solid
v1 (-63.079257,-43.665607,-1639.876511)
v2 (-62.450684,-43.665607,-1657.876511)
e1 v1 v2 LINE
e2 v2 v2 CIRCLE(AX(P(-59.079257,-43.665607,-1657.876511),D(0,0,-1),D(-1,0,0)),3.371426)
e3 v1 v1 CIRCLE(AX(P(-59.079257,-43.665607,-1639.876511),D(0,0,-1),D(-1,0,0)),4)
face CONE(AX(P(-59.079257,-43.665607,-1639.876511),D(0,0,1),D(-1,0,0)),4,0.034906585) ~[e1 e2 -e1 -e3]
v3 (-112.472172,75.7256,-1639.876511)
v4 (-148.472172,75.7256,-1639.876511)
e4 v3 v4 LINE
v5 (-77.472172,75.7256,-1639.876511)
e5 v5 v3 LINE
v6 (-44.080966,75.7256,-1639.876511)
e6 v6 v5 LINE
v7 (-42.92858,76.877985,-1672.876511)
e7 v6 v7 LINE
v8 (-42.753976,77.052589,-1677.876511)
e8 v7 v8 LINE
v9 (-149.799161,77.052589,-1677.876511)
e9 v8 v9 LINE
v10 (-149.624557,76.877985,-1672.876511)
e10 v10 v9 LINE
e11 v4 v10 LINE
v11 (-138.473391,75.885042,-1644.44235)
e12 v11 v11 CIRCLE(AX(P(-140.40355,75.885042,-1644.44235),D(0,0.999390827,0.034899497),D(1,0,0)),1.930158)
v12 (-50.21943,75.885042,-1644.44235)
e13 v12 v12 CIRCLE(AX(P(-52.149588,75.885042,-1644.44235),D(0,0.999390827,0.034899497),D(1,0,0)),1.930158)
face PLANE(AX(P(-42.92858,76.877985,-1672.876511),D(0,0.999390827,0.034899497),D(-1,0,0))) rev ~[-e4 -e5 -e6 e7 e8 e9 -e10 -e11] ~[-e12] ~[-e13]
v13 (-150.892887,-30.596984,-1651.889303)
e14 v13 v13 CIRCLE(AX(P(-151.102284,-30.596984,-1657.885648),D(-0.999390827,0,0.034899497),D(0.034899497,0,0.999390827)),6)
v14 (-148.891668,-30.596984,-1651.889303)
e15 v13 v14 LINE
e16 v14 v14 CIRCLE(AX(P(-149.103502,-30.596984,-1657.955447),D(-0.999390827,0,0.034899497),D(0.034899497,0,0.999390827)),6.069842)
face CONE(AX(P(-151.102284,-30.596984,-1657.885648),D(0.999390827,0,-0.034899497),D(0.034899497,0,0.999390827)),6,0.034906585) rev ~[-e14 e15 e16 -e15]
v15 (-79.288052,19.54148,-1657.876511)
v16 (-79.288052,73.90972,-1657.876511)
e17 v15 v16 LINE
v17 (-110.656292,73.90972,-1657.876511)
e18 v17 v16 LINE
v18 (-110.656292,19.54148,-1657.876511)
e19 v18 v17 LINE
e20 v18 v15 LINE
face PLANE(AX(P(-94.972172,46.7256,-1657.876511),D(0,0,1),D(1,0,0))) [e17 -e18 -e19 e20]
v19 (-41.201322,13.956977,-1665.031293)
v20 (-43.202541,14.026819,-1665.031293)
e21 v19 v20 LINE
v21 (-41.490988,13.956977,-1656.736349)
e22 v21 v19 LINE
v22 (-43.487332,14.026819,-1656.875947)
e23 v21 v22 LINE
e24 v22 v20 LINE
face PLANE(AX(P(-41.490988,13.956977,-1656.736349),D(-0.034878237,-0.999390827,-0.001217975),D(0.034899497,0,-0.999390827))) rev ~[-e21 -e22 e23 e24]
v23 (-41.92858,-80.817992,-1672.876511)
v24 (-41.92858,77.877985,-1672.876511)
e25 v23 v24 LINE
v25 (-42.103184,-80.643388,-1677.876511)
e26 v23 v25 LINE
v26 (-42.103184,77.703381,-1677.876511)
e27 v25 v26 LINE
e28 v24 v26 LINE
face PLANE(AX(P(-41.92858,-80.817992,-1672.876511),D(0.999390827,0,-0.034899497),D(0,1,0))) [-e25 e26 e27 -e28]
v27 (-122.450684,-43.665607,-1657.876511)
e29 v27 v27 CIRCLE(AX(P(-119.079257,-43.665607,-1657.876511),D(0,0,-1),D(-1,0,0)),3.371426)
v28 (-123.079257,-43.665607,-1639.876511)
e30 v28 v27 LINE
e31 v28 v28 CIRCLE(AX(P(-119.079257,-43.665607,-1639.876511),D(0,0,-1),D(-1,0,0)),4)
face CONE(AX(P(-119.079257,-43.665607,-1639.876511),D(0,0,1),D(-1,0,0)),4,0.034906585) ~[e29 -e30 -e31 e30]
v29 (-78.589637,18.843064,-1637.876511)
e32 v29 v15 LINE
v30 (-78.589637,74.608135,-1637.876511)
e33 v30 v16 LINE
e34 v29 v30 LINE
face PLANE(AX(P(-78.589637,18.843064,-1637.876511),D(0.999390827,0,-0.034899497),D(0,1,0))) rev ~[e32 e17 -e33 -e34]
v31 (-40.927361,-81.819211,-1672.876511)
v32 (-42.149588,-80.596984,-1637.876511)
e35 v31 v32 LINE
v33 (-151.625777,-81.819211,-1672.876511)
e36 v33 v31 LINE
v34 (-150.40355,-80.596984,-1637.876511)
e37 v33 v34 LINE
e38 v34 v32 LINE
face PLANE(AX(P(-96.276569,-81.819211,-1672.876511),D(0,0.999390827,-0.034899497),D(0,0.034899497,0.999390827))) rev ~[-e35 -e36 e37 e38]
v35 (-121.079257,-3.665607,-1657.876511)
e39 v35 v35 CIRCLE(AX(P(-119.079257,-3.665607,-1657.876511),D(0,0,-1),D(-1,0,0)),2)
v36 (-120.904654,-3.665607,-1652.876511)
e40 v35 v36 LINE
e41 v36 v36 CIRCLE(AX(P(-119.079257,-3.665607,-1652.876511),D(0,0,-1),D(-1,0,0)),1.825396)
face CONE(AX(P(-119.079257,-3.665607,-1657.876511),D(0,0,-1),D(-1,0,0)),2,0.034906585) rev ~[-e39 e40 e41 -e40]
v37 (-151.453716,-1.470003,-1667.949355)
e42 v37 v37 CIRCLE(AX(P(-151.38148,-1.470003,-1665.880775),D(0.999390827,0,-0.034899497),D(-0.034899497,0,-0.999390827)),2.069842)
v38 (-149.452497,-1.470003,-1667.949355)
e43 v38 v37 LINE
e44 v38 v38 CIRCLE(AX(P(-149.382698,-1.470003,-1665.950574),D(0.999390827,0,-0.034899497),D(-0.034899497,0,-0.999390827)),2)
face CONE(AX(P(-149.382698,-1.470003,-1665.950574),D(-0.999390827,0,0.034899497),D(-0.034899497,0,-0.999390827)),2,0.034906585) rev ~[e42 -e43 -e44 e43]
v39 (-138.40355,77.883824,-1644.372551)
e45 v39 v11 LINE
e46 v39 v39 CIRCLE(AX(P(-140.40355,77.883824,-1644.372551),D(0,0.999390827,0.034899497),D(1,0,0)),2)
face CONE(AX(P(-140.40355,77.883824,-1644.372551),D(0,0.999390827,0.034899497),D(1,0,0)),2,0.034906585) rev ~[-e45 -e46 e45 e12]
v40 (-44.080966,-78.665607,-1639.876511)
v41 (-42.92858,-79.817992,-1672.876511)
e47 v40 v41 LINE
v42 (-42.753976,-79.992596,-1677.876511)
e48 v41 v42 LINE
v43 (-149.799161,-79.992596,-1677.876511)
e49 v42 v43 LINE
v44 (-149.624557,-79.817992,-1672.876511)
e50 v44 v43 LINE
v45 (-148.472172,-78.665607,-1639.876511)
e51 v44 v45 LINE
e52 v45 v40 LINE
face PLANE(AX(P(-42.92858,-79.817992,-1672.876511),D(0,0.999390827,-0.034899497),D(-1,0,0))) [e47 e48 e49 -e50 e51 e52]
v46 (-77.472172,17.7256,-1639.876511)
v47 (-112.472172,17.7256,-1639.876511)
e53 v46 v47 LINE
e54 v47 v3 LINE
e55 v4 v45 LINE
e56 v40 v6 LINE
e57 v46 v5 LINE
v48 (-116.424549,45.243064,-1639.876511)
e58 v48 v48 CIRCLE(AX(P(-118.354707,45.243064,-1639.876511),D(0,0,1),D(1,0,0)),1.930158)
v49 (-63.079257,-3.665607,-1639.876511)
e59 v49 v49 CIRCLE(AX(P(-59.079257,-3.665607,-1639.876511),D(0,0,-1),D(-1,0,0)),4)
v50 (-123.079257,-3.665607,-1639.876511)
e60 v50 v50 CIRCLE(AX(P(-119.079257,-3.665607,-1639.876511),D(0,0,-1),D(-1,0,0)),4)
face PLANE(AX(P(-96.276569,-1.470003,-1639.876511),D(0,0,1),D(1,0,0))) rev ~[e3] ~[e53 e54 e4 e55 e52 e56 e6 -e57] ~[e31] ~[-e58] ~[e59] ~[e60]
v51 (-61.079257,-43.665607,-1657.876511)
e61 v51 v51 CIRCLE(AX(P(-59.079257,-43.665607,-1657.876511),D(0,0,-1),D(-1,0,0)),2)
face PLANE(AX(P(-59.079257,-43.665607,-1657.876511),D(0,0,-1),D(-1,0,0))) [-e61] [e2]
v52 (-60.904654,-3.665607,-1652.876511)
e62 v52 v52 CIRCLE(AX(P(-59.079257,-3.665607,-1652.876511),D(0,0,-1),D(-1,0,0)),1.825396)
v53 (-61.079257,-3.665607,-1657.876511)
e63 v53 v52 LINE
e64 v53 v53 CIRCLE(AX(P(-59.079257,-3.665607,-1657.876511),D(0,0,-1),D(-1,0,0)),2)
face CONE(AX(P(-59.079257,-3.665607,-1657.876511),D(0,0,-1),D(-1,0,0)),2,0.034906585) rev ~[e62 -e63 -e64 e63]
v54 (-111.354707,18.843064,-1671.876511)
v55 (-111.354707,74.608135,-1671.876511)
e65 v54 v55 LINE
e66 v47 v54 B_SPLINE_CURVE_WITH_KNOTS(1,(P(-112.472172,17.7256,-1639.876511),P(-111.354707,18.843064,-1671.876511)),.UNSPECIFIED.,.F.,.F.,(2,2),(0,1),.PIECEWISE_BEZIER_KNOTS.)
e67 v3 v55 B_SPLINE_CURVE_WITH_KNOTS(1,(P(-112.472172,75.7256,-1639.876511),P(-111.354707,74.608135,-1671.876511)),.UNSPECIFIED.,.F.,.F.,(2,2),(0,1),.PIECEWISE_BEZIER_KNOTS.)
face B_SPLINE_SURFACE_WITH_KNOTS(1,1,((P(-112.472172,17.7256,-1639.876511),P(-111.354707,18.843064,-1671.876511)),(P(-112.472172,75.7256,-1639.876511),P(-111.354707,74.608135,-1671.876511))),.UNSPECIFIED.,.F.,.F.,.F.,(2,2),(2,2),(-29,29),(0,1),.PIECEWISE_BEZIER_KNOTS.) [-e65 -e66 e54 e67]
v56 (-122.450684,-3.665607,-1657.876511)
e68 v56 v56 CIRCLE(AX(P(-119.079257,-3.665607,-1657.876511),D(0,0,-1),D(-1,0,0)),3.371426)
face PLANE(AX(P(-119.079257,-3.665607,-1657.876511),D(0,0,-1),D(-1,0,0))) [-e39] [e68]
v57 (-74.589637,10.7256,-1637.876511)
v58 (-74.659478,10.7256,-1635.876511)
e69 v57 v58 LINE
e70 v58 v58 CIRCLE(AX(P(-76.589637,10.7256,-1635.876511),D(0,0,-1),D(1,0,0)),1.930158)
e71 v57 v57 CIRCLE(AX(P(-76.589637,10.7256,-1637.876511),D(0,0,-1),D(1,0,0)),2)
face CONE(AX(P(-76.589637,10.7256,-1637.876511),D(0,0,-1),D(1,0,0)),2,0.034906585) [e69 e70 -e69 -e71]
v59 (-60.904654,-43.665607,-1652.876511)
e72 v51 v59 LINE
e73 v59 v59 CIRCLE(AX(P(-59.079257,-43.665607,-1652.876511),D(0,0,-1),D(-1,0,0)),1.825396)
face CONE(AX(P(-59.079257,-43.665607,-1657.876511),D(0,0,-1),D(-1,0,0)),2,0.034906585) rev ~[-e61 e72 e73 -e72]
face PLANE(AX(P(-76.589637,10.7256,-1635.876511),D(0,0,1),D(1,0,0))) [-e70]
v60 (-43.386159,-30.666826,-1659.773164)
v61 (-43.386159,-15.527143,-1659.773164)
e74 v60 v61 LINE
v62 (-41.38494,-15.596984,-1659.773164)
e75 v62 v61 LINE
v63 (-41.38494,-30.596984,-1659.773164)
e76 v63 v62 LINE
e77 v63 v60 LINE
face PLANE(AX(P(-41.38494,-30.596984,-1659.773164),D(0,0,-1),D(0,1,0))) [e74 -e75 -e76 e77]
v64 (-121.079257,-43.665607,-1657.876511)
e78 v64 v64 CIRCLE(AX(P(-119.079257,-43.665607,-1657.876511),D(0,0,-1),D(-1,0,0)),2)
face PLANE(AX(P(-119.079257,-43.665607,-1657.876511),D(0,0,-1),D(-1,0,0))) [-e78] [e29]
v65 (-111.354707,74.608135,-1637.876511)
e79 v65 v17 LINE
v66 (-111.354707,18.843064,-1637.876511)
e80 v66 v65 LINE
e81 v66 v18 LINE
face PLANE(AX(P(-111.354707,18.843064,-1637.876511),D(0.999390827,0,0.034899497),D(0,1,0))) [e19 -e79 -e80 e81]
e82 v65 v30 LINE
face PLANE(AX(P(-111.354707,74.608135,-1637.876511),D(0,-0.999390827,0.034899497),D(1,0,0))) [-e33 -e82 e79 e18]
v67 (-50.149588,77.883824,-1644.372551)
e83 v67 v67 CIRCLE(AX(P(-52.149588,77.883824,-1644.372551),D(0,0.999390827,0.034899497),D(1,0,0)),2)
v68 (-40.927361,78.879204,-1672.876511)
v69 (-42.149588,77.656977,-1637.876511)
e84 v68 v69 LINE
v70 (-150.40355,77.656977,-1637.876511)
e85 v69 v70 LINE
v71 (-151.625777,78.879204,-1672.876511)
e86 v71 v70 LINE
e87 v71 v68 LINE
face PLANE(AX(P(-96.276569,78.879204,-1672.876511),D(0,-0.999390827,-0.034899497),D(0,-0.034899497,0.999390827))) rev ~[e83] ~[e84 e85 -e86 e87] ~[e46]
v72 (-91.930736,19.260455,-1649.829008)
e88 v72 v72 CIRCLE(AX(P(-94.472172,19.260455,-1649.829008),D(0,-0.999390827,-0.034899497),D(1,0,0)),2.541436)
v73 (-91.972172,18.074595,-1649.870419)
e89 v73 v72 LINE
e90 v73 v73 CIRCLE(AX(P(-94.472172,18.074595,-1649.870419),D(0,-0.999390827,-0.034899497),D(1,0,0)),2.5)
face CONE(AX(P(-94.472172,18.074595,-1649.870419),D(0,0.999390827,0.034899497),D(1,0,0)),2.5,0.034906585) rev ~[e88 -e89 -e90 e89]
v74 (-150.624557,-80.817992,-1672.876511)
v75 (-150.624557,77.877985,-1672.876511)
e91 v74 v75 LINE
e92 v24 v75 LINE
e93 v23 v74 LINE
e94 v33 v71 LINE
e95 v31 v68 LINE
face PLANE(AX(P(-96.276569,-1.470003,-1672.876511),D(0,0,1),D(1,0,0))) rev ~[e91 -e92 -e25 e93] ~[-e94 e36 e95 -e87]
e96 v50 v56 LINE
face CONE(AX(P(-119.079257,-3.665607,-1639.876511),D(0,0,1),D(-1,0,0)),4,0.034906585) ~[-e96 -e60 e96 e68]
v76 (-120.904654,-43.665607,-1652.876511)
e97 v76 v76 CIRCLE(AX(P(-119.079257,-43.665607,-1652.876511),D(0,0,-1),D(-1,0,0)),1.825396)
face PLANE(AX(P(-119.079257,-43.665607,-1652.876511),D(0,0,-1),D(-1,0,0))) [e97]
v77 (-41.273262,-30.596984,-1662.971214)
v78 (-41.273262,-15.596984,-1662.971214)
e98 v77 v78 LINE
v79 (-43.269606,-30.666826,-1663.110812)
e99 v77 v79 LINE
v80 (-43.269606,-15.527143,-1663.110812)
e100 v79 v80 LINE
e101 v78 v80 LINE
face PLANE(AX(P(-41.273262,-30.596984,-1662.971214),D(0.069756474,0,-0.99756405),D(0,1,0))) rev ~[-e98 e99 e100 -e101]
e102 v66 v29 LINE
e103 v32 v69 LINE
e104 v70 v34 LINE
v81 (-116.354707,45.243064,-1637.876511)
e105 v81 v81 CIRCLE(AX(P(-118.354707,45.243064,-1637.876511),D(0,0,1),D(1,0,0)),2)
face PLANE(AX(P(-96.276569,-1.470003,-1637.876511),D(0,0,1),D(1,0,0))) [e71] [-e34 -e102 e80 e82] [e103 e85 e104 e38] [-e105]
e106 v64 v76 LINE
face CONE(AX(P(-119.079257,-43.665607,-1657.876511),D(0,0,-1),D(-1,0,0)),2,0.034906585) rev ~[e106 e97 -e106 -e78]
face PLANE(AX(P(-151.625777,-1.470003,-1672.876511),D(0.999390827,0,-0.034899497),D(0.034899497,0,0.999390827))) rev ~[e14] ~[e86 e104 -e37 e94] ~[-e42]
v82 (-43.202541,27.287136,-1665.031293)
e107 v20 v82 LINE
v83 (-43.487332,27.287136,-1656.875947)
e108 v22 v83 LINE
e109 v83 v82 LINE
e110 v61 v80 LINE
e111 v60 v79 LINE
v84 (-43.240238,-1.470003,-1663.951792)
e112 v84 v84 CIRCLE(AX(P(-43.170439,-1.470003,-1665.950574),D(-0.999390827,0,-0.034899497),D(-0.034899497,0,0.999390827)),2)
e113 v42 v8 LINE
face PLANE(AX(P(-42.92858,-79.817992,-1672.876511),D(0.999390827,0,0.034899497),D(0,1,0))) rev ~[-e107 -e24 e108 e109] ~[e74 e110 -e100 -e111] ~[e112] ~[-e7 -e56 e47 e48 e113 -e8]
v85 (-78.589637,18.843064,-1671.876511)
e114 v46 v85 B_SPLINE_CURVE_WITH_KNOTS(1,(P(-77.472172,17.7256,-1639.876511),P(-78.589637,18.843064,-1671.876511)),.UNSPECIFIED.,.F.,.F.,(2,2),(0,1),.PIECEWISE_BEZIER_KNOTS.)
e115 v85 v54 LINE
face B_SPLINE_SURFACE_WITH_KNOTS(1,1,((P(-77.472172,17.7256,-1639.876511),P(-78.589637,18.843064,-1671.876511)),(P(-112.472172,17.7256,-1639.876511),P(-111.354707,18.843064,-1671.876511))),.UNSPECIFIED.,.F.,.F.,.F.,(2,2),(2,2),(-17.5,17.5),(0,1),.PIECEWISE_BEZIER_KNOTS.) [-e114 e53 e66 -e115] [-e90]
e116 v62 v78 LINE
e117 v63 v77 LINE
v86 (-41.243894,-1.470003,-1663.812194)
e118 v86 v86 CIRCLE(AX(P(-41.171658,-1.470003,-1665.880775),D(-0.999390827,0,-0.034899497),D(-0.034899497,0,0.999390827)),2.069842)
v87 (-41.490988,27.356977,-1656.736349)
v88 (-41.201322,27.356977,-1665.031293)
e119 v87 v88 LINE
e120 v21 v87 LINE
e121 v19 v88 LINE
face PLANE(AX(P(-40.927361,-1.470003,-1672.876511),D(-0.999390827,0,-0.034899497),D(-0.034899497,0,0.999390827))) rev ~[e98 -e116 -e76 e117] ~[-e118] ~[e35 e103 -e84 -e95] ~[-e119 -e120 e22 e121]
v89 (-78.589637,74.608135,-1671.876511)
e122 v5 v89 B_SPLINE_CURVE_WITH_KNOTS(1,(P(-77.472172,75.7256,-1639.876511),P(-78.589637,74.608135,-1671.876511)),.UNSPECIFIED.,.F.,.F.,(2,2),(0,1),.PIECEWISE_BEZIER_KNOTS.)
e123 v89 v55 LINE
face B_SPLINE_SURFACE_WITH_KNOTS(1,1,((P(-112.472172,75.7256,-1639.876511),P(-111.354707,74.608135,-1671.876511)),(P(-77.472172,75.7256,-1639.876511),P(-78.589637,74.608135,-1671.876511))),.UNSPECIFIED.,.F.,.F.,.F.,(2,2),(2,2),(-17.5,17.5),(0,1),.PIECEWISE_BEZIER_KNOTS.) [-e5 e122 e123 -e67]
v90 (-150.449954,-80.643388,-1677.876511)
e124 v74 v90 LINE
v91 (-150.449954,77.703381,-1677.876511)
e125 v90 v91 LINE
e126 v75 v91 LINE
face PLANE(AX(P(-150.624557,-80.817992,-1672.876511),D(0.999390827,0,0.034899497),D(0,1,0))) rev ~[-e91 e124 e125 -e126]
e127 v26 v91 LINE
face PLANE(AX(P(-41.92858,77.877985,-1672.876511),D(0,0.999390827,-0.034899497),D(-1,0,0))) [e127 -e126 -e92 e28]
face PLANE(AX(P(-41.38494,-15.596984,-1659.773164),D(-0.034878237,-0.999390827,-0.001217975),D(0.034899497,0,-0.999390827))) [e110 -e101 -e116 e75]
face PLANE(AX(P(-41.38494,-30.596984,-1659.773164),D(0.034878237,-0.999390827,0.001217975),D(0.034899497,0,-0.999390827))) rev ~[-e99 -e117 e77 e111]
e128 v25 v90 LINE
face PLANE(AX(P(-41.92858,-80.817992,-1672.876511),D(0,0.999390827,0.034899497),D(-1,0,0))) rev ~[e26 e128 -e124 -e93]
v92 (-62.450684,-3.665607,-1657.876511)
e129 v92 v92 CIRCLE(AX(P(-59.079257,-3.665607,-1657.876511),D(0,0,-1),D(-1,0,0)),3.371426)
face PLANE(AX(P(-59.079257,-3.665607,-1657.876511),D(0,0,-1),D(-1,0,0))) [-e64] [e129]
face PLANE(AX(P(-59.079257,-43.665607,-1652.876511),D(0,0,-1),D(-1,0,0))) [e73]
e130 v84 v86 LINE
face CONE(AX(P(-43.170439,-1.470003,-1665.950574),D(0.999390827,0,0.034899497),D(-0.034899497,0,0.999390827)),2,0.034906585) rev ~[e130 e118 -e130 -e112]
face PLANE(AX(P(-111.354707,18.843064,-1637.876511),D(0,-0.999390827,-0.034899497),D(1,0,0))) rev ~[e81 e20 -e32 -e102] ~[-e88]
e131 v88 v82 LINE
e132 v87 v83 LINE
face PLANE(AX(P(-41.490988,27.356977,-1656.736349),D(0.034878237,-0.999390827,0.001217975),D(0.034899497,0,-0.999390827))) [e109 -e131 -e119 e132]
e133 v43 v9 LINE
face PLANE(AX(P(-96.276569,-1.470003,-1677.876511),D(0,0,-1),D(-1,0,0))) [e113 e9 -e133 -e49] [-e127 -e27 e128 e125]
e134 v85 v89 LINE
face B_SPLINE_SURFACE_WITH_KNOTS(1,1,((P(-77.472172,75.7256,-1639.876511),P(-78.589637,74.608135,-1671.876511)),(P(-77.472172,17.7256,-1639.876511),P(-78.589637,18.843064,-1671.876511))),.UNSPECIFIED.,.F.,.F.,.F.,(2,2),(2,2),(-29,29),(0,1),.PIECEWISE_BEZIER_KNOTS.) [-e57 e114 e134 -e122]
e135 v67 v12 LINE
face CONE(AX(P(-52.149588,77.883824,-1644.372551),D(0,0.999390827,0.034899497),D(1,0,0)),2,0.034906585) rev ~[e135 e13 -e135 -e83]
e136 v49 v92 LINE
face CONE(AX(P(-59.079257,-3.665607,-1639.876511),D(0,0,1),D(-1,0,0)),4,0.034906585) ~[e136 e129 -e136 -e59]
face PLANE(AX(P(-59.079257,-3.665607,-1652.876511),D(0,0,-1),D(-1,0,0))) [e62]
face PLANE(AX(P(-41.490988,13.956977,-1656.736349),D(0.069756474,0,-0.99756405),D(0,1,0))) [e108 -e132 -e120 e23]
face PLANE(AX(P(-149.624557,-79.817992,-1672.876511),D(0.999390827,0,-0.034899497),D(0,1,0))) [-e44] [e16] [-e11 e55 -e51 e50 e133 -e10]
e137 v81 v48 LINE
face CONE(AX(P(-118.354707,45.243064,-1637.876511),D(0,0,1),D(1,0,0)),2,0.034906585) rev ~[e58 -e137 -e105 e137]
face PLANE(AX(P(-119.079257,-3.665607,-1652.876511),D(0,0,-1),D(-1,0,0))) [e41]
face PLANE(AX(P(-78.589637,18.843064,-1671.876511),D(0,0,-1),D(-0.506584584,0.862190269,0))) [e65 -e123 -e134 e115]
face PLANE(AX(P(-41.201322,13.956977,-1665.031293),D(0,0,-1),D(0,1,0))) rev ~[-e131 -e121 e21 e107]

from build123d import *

# Parameters (mm, degrees)
SKETCH1_W                     = 110.69841539
SKETCH1_H                     = 160.69841539
BOSS_EXTRUDE1_DEPTH           = 35
BOSS_EXTRUDE1_TAPER           = 2
SHELL1_T                      = -2
SKETCH9_W                     = 35
SKETCH9_H                     = 58
BOSS_EXTRUDE5_DEPTH           = 32
BOSS_EXTRUDE5_TAPER           = 2
SKETCH6_W                     = 3.2
SKETCH6_H                     = 15
CUT_EXTRUDE3_DEPTH            = 2
CUT_EXTRUDE3_DRAFT            = 2
SKETCH11_W                    = 32.765070753
SKETCH11_H                    = 55.765070753
CUT_EXTRUDE4_DEPTH            = 20
CUT_EXTRUDE4_DRAFT            = -2
SKETCH13_R                    = 2.5
CUT_EXTRUDE5_DEPTH            = 1.186583
CUT_EXTRUDE5_DRAFT            = 2
SKETCH14_R                    = 4
BOSS_EXTRUDE6_DEPTH           = 18
BOSS_EXTRUDE6_DRAFT           = 2
BOSS_EXTRUDE6_PROFILE_2_DEPTH = 18
BOSS_EXTRUDE6_PROFILE_2_DRAFT = 2
BOSS_EXTRUDE6_PROFILE_3_DEPTH = 18
BOSS_EXTRUDE6_PROFILE_3_DRAFT = 2
BOSS_EXTRUDE6_PROFILE_4_DEPTH = 18
BOSS_EXTRUDE6_PROFILE_4_DRAFT = 2
SKETCH15_R                    = 2
CUT_EXTRUDE6_DEPTH            = 5
CUT_EXTRUDE6_DRAFT            = -2
CUT_EXTRUDE6_PROFILE_2_DEPTH  = 5
CUT_EXTRUDE6_PROFILE_2_DRAFT  = -2
CUT_EXTRUDE6_PROFILE_3_DEPTH  = 5
CUT_EXTRUDE6_PROFILE_3_DRAFT  = -2
CUT_EXTRUDE6_PROFILE_4_DEPTH  = 5
CUT_EXTRUDE6_PROFILE_4_DRAFT  = -2
SKETCH17_W                    = 108.695977213
SKETCH17_H                    = 158.695977213
SKETCH17_W_2                  = 106.695977213
SKETCH17_H_2                  = 156.695977213
BOSS_EXTRUDE8_DEPTH           = 5
BOSS_EXTRUDE8_DRAFT           = 2
SKETCH18_R                    = 2
BOSS_EXTRUDE9_DEPTH           = 2
BOSS_EXTRUDE9_TAPER           = 2
SKETCH19_R                    = 2
CUT_EXTRUDE7_DEPTH            = 2
CUT_EXTRUDE7_DRAFT            = -2
SKETCH26_R                    = 2
CUT_EXTRUDE11_DEPTH           = 2
CUT_EXTRUDE11_DRAFT           = 2
SKETCH27_R                    = 2
CUT_EXTRUDE12_DEPTH           = 2
CUT_EXTRUDE12_DRAFT           = 2
SKETCH29_R                    = 6
CUT_EXTRUDE15_DEPTH           = 10
CUT_EXTRUDE15_DRAFT           = 2
SKETCH32_W                    = 8.3
SKETCH32_H                    = 13.4
CUT_EXTRUDE16_DEPTH           = 2
CUT_EXTRUDE16_DRAFT           = -2
SKETCH34_R                    = 2
CUT_EXTRUDE17_DEPTH           = 2
CUT_EXTRUDE17_DRAFT           = -2
CUT_EXTRUDE17_PROFILE_2_DEPTH = 2
CUT_EXTRUDE17_PROFILE_2_DRAFT = -2


with BuildPart() as part:
    # Sketch1 → Boss-Extrude1 (new body)
    with BuildSketch(Plane(origin=(-178.93563268, -87.827617858, -1672.876510568), x_dir=(1, 0, 0), z_dir=(0, 0, 1))):
        with Locations((82.659063847, 86.357614413)):
            Rectangle(SKETCH1_W, SKETCH1_H)
    extrude(amount=BOSS_EXTRUDE1_DEPTH, taper=BOSS_EXTRUDE1_TAPER)

    # Shell1
    shell1_openings = [part.faces().sort_by_distance(p)[0] for p in [
        (-96.276568833, -1.470003445, -1672.876510568),
    ]]
    offset(amount=SHELL1_T, openings=shell1_openings, kind=Kind.INTERSECTION)

    # Sketch9 → Boss-Extrude5 (add)
    with BuildSketch(Plane(origin=(0, 0, -1639.876510568), x_dir=(-1, 0, 0), z_dir=(0, 0, -1))):
        with Locations((94.972172046, 46.725599768)):
            Rectangle(SKETCH9_W, SKETCH9_H)
    extrude(amount=BOSS_EXTRUDE5_DEPTH, taper=BOSS_EXTRUDE5_TAPER)


with BuildPart() as cut_extrude3_tool:
    # Sketch6 → Cut-Extrude3 (with draft: the straight prism first)
    with BuildSketch(Plane(origin=(-99.224495834, 0, -3.464995747), x_dir=(0.03489949670250102, 0, -0.9993908270190958), z_dir=(0.9993908270190958, 0, 0.03489949670250102))):
        with Locations((1658.917761042, -23.096984207)):
            Rectangle(SKETCH6_W, SKETCH6_H)
    extrude(amount=-CUT_EXTRUDE3_DEPTH)
    # Cut-Extrude3: the draft: its side faces are tilted about the plane it starts from
    cut_extrude3_sides = [cut_extrude3_tool.faces().sort_by_distance(p)[0] for p in [
        (-42.328491729, -30.596984207, -1661.407088408),
        (-42.272652535, -23.096984207, -1663.006113731),
        (-42.328491729, -15.596984207, -1661.407088408),
        (-42.384330924, -23.096984207, -1659.808063085),
    ]]
    draft(cut_extrude3_sides, Plane(origin=(-99.224495834, 0, -3.464995747), x_dir=(0.03489949670250102, 0, -0.9993908270190958), z_dir=(0.9993908270190958, 0, 0.03489949670250102)), CUT_EXTRUDE3_DRAFT)


with BuildPart() as part_1:
    add(part.part)

    # Cut-Extrude3: cut by cut_extrude3_tool
    add(cut_extrude3_tool.part, mode=Mode.SUBTRACT)


with BuildPart() as cut_extrude4_tool:
    # Sketch11 → Cut-Extrude4 (with draft: the straight prism first)
    with BuildSketch(Plane.XY.offset(-1637.876510568)):
        with Locations((-94.972172046, 46.725599769)):
            Rectangle(SKETCH11_W, SKETCH11_H)
    extrude(amount=-CUT_EXTRUDE4_DEPTH)
    # Cut-Extrude4: the draft: its side faces are tilted about the plane it starts from
    cut_extrude4_sides = [cut_extrude4_tool.faces().sort_by_distance(p)[0] for p in [
        (-111.354707422, 46.725599768, -1647.876510568),
        (-94.972172046, 18.843064392, -1647.876510568),
        (-78.589636669, 46.725599768, -1647.876510568),
        (-94.972172046, 74.608135145, -1647.876510568),
    ]]
    draft(cut_extrude4_sides, Plane.XY.offset(-1637.876510568), CUT_EXTRUDE4_DRAFT)


with BuildPart() as part_2:
    add(part_1.part)

    # Cut-Extrude4: cut by cut_extrude4_tool
    add(cut_extrude4_tool.part, mode=Mode.SUBTRACT)


with BuildPart() as cut_extrude5_tool:
    # Sketch13 → Cut-Extrude5 (with draft: the straight prism first)
    with BuildSketch(Plane(origin=(0, -39.491990943, -1.379090712), x_dir=(1, 0, 0), z_dir=(0, -0.9993908270190958, -0.03489949670250101))):
        with Locations((-94.472172046, -1649.496156617)):
            Circle(SKETCH13_R)
    extrude(amount=-CUT_EXTRUDE5_DEPTH)
    # Cut-Extrude5: the draft: its side faces are tilted about the plane it starts from
    cut_extrude5_sides = [cut_extrude5_tool.faces().sort_by_distance(p)[0] for p in [
        (-96.972172046, 18.667524818, -1649.849713264),
    ]]
    draft(cut_extrude5_sides, Plane(origin=(0, -39.491990943, -1.379090712), x_dir=(1, 0, 0), z_dir=(0, -0.9993908270190958, -0.03489949670250101)), CUT_EXTRUDE5_DRAFT)


with BuildPart() as part_3:
    add(part_2.part)

    # Cut-Extrude5: cut by cut_extrude5_tool
    add(cut_extrude5_tool.part, mode=Mode.SUBTRACT)


with BuildPart() as boss_extrude6_tool:
    # Sketch14 → Boss-Extrude6 (with draft: the straight prism first)
    with BuildSketch(Plane(origin=(0, 0, -1639.876510568), x_dir=(-1, 0, 0), z_dir=(0, 0, -1))):
        with Locations((59.079257377, -3.665606658)):
            Circle(SKETCH14_R)
    extrude(amount=BOSS_EXTRUDE6_DEPTH)
    # Boss-Extrude6: the draft: its side faces are tilted about the plane it starts from
    boss_extrude6_sides = [boss_extrude6_tool.faces().sort_by_distance(p)[0] for p in [
        (-55.079257377, -3.665606658, -1648.876510568),
    ]]
    draft(boss_extrude6_sides, Plane(origin=(0, 0, -1639.876510568), x_dir=(-1, 0, 0), z_dir=(0, 0, -1)), BOSS_EXTRUDE6_DRAFT)


with BuildPart() as part_4:
    add(part_3.part)

    # Boss-Extrude6: add boss_extrude6_tool
    add(boss_extrude6_tool.part)


with BuildPart() as boss_extrude6_profile_2_tool:
    # Sketch14 → Boss-Extrude6 profile 2 (with draft: the straight prism first)
    with BuildSketch(Plane(origin=(0, 0, -1639.876510568), x_dir=(-1, 0, 0), z_dir=(0, 0, -1))):
        with Locations((59.079257377, -43.665606658)):
            Circle(SKETCH14_R)
    extrude(amount=BOSS_EXTRUDE6_PROFILE_2_DEPTH)
    # Boss-Extrude6 profile 2: the draft: its side faces are tilted about the plane it starts from
    boss_extrude6_profile_2_sides = [boss_extrude6_profile_2_tool.faces().sort_by_distance(p)[0] for p in [
        (-55.079257377, -43.665606658, -1648.876510568),
    ]]
    draft(boss_extrude6_profile_2_sides, Plane(origin=(0, 0, -1639.876510568), x_dir=(-1, 0, 0), z_dir=(0, 0, -1)), BOSS_EXTRUDE6_PROFILE_2_DRAFT)


with BuildPart() as part_5:
    add(part_4.part)

    # Boss-Extrude6 profile 2: add boss_extrude6_profile_2_tool
    add(boss_extrude6_profile_2_tool.part)


with BuildPart() as boss_extrude6_profile_3_tool:
    # Sketch14 → Boss-Extrude6 profile 3 (with draft: the straight prism first)
    with BuildSketch(Plane(origin=(0, 0, -1639.876510568), x_dir=(-1, 0, 0), z_dir=(0, 0, -1))):
        with Locations((119.079257377, -3.665606658)):
            Circle(SKETCH14_R)
    extrude(amount=BOSS_EXTRUDE6_PROFILE_3_DEPTH)
    # Boss-Extrude6 profile 3: the draft: its side faces are tilted about the plane it starts from
    boss_extrude6_profile_3_sides = [boss_extrude6_profile_3_tool.faces().sort_by_distance(p)[0] for p in [
        (-115.079257377, -3.665606658, -1648.876510568),
    ]]
    draft(boss_extrude6_profile_3_sides, Plane(origin=(0, 0, -1639.876510568), x_dir=(-1, 0, 0), z_dir=(0, 0, -1)), BOSS_EXTRUDE6_PROFILE_3_DRAFT)


with BuildPart() as part_6:
    add(part_5.part)

    # Boss-Extrude6 profile 3: add boss_extrude6_profile_3_tool
    add(boss_extrude6_profile_3_tool.part)


with BuildPart() as boss_extrude6_profile_4_tool:
    # Sketch14 → Boss-Extrude6 profile 4 (with draft: the straight prism first)
    with BuildSketch(Plane(origin=(0, 0, -1639.876510568), x_dir=(-1, 0, 0), z_dir=(0, 0, -1))):
        with Locations((119.079257377, -43.665606658)):
            Circle(SKETCH14_R)
    extrude(amount=BOSS_EXTRUDE6_PROFILE_4_DEPTH)
    # Boss-Extrude6 profile 4: the draft: its side faces are tilted about the plane it starts from
    boss_extrude6_profile_4_sides = [boss_extrude6_profile_4_tool.faces().sort_by_distance(p)[0] for p in [
        (-115.079257377, -43.665606658, -1648.876510568),
    ]]
    draft(boss_extrude6_profile_4_sides, Plane(origin=(0, 0, -1639.876510568), x_dir=(-1, 0, 0), z_dir=(0, 0, -1)), BOSS_EXTRUDE6_PROFILE_4_DRAFT)


with BuildPart() as part_7:
    add(part_6.part)

    # Boss-Extrude6 profile 4: add boss_extrude6_profile_4_tool
    add(boss_extrude6_profile_4_tool.part)


with BuildPart() as cut_extrude6_tool:
    # Sketch15 → Cut-Extrude6 (with draft: the straight prism first)
    with BuildSketch(Plane(origin=(0, 0, -1657.876510568), x_dir=(-1, 0, 0), z_dir=(0, 0, -1))):
        with Locations((59.079257377, -3.665606658)):
            Circle(SKETCH15_R)
    extrude(amount=-CUT_EXTRUDE6_DEPTH)
    # Cut-Extrude6: the draft: its side faces are tilted about the plane it starts from
    cut_extrude6_sides = [cut_extrude6_tool.faces().sort_by_distance(p)[0] for p in [
        (-57.079257377, -3.665606658, -1655.376510568),
    ]]
    draft(cut_extrude6_sides, Plane(origin=(0, 0, -1657.876510568), x_dir=(-1, 0, 0), z_dir=(0, 0, -1)), CUT_EXTRUDE6_DRAFT)


with BuildPart() as part_8:
    add(part_7.part)

    # Cut-Extrude6: cut by cut_extrude6_tool
    add(cut_extrude6_tool.part, mode=Mode.SUBTRACT)


with BuildPart() as cut_extrude6_profile_2_tool:
    # Sketch15 → Cut-Extrude6 profile 2 (with draft: the straight prism first)
    with BuildSketch(Plane(origin=(0, 0, -1657.876510568), x_dir=(-1, 0, 0), z_dir=(0, 0, -1))):
        with Locations((119.079257377, -3.665606658)):
            Circle(SKETCH15_R)
    extrude(amount=-CUT_EXTRUDE6_PROFILE_2_DEPTH)
    # Cut-Extrude6 profile 2: the draft: its side faces are tilted about the plane it starts from
    cut_extrude6_profile_2_sides = [cut_extrude6_profile_2_tool.faces().sort_by_distance(p)[0] for p in [
        (-117.079257377, -3.665606658, -1655.376510568),
    ]]
    draft(cut_extrude6_profile_2_sides, Plane(origin=(0, 0, -1657.876510568), x_dir=(-1, 0, 0), z_dir=(0, 0, -1)), CUT_EXTRUDE6_PROFILE_2_DRAFT)


with BuildPart() as part_9:
    add(part_8.part)

    # Cut-Extrude6 profile 2: cut by cut_extrude6_profile_2_tool
    add(cut_extrude6_profile_2_tool.part, mode=Mode.SUBTRACT)


with BuildPart() as cut_extrude6_profile_3_tool:
    # Sketch15 → Cut-Extrude6 profile 3 (with draft: the straight prism first)
    with BuildSketch(Plane(origin=(0, 0, -1657.876510568), x_dir=(-1, 0, 0), z_dir=(0, 0, -1))):
        with Locations((119.079257377, -43.665606658)):
            Circle(SKETCH15_R)
    extrude(amount=-CUT_EXTRUDE6_PROFILE_3_DEPTH)
    # Cut-Extrude6 profile 3: the draft: its side faces are tilted about the plane it starts from
    cut_extrude6_profile_3_sides = [cut_extrude6_profile_3_tool.faces().sort_by_distance(p)[0] for p in [
        (-117.079257377, -43.665606658, -1655.376510568),
    ]]
    draft(cut_extrude6_profile_3_sides, Plane(origin=(0, 0, -1657.876510568), x_dir=(-1, 0, 0), z_dir=(0, 0, -1)), CUT_EXTRUDE6_PROFILE_3_DRAFT)


with BuildPart() as part_10:
    add(part_9.part)

    # Cut-Extrude6 profile 3: cut by cut_extrude6_profile_3_tool
    add(cut_extrude6_profile_3_tool.part, mode=Mode.SUBTRACT)


with BuildPart() as cut_extrude6_profile_4_tool:
    # Sketch15 → Cut-Extrude6 profile 4 (with draft: the straight prism first)
    with BuildSketch(Plane(origin=(0, 0, -1657.876510568), x_dir=(-1, 0, 0), z_dir=(0, 0, -1))):
        with Locations((59.079257377, -43.665606658)):
            Circle(SKETCH15_R)
    extrude(amount=-CUT_EXTRUDE6_PROFILE_4_DEPTH)
    # Cut-Extrude6 profile 4: the draft: its side faces are tilted about the plane it starts from
    cut_extrude6_profile_4_sides = [cut_extrude6_profile_4_tool.faces().sort_by_distance(p)[0] for p in [
        (-57.079257377, -43.665606658, -1655.376510568),
    ]]
    draft(cut_extrude6_profile_4_sides, Plane(origin=(0, 0, -1657.876510568), x_dir=(-1, 0, 0), z_dir=(0, 0, -1)), CUT_EXTRUDE6_PROFILE_4_DRAFT)


with BuildPart() as part_11:
    add(part_10.part)

    # Cut-Extrude6 profile 4: cut by cut_extrude6_profile_4_tool
    add(cut_extrude6_profile_4_tool.part, mode=Mode.SUBTRACT)


with BuildPart() as boss_extrude8_tool:
    # Sketch17 → Boss-Extrude8 (with draft: the straight prism first)
    with BuildSketch(Plane(origin=(0, 0, -1672.876510568), x_dir=(-1, 0, 0), z_dir=(0, 0, -1))):
        with Locations((96.276568833, -1.470003445)):
            Rectangle(SKETCH17_W, SKETCH17_H)
        with Locations((96.276568833, -1.470003445)):
            Rectangle(SKETCH17_W_2, SKETCH17_H_2, mode=Mode.SUBTRACT)
    extrude(amount=BOSS_EXTRUDE8_DEPTH)
    # Boss-Extrude8: the draft: its side faces are tilted about the plane it starts from
    boss_extrude8_sides = [boss_extrude8_tool.faces().sort_by_distance(p)[0] for p in [
        (-41.928580226, -1.470003445, -1675.376510568),
        (-96.276568833, -80.817992051, -1675.376510568),
        (-150.624557439, -1.470003445, -1675.376510568),
        (-96.276568833, 77.877985162, -1675.376510568),
        (-96.276568833, -79.817992051, -1675.376510568),
        (-42.928580226, -1.470003445, -1675.376510568),
        (-96.276568833, 76.877985162, -1675.376510568),
        (-149.624557439, -1.470003445, -1675.376510568),
    ]]
    draft(boss_extrude8_sides, Plane(origin=(0, 0, -1672.876510568), x_dir=(-1, 0, 0), z_dir=(0, 0, -1)), BOSS_EXTRUDE8_DRAFT)


with BuildPart() as part_12:
    add(part_11.part)

    # Boss-Extrude8: add boss_extrude8_tool
    add(boss_extrude8_tool.part)

    # Sketch18 → Boss-Extrude9 (add)
    with BuildSketch(Plane.XY.offset(-1637.876510568)):
        with Locations((-76.589636669, 10.725599768)):
            Circle(SKETCH18_R)
    extrude(amount=BOSS_EXTRUDE9_DEPTH, taper=BOSS_EXTRUDE9_TAPER)


with BuildPart() as cut_extrude7_tool:
    # Sketch19 → Cut-Extrude7 (with draft: the straight prism first)
    with BuildSketch(Plane.XY.offset(-1637.876510568)):
        with Locations((-118.354707422, 45.243064392)):
            Circle(SKETCH19_R)
    extrude(amount=-CUT_EXTRUDE7_DEPTH)
    # Cut-Extrude7: the draft: its side faces are tilted about the plane it starts from
    cut_extrude7_sides = [cut_extrude7_tool.faces().sort_by_distance(p)[0] for p in [
        (-120.354707422, 45.243064392, -1638.876510568),
    ]]
    draft(cut_extrude7_sides, Plane.XY.offset(-1637.876510568), CUT_EXTRUDE7_DRAFT)


with BuildPart() as part_13:
    add(part_12.part)

    # Cut-Extrude7: cut by cut_extrude7_tool
    add(cut_extrude7_tool.part, mode=Mode.SUBTRACT)


with BuildPart() as cut_extrude11_tool:
    # Sketch26 → Cut-Extrude11 (with draft: the straight prism first)
    with BuildSketch(Plane(origin=(-91.095335295, 0, 3.181119206), x_dir=(-0.03489949670250101, 0, -0.9993908270190958), z_dir=(0.9993908270190958, 0, -0.03489949670250101))):
        with Locations((1670.149102685, -1.470003445)):
            Circle(SKETCH26_R)
    extrude(amount=-CUT_EXTRUDE11_DEPTH)
    # Cut-Extrude11: the draft: its side faces are tilted about the plane it starts from
    cut_extrude11_sides = [cut_extrude11_tool.faces().sort_by_distance(p)[0] for p in [
        (-150.31229023, -1.470003445, -1663.916892622),
    ]]
    draft(cut_extrude11_sides, Plane(origin=(-91.095335295, 0, 3.181119206), x_dir=(-0.03489949670250101, 0, -0.9993908270190958), z_dir=(0.9993908270190958, 0, -0.03489949670250101)), CUT_EXTRUDE11_DRAFT)


with BuildPart() as part_14:
    add(part_13.part)

    # Cut-Extrude11: cut by cut_extrude11_tool
    add(cut_extrude11_tool.part, mode=Mode.SUBTRACT)


with BuildPart() as cut_extrude12_tool:
    # Sketch27 → Cut-Extrude12 (with draft: the straight prism first)
    with BuildSketch(Plane(origin=(-101.223277488, 0, -3.53479474), x_dir=(-0.03489949670250102, 0, 0.9993908270190958), z_dir=(-0.9993908270190958, 0, -0.03489949670250102))):
        with Locations((-1663.429095092, -1.470003445)):
            Circle(SKETCH27_R)
    extrude(amount=-CUT_EXTRUDE12_DEPTH)
    # Cut-Extrude12: the draft: its side faces are tilted about the plane it starts from
    cut_extrude12_sides = [cut_extrude12_tool.faces().sort_by_distance(p)[0] for p in [
        (-42.101249448, -1.470003445, -1667.91445593),
    ]]
    draft(cut_extrude12_sides, Plane(origin=(-101.223277488, 0, -3.53479474), x_dir=(-0.03489949670250102, 0, 0.9993908270190958), z_dir=(-0.9993908270190958, 0, -0.03489949670250102)), CUT_EXTRUDE12_DRAFT)


with BuildPart() as part_15:
    add(part_14.part)

    # Cut-Extrude12: cut by cut_extrude12_tool
    add(cut_extrude12_tool.part, mode=Mode.SUBTRACT)


with BuildPart() as cut_extrude15_tool:
    # Sketch29 → Cut-Extrude15 (with draft: the straight prism first)
    with BuildSketch(Plane(origin=(-93.094116949, 0, 3.250918199), x_dir=(0.03489949670250101, 0, 0.9993908270190958), z_dir=(-0.9993908270190958, 0, 0.03489949670250101))):
        with Locations((-1662.149102685, -30.596984207)):
            Circle(SKETCH29_R)
    extrude(amount=-CUT_EXTRUDE15_DEPTH)
    # Cut-Extrude15: the draft: its side faces are tilted about the plane it starts from
    cut_extrude15_sides = [cut_extrude15_tool.faces().sort_by_distance(p)[0] for p in [
        (-146.314726922, -30.596984207, -1664.056490608),
    ]]
    draft(cut_extrude15_sides, Plane(origin=(-93.094116949, 0, 3.250918199), x_dir=(0.03489949670250101, 0, 0.9993908270190958), z_dir=(-0.9993908270190958, 0, 0.03489949670250101)), CUT_EXTRUDE15_DRAFT)


with BuildPart() as part_16:
    add(part_15.part)

    # Cut-Extrude15: cut by cut_extrude15_tool
    add(cut_extrude15_tool.part, mode=Mode.SUBTRACT)


with BuildPart() as cut_extrude16_tool:
    # Sketch32 → Cut-Extrude16 (with draft: the straight prism first)
    with BuildSketch(Plane(origin=(-99.224495834, 0, -3.464995747), x_dir=(0.03489949670250102, 0, -0.9993908270190958), z_dir=(0.9993908270190958, 0, 0.03489949670250102))):
        with Locations((1658.429095092, 20.656977318)):
            Rectangle(SKETCH32_W, SKETCH32_H)
    extrude(amount=-CUT_EXTRUDE16_DEPTH)
    # Cut-Extrude16: the draft: its side faces are tilted about the plane it starts from
    cut_extrude16_sides = [cut_extrude16_tool.faces().sort_by_distance(p)[0] for p in [
        (-42.200713014, 20.656977318, -1665.066192073),
        (-42.345545925, 27.356977318, -1660.918720141),
        (-42.490378836, 20.656977318, -1656.771248208),
        (-42.345545925, 13.956977318, -1660.918720141),
    ]]
    draft(cut_extrude16_sides, Plane(origin=(-99.224495834, 0, -3.464995747), x_dir=(0.03489949670250102, 0, -0.9993908270190958), z_dir=(0.9993908270190958, 0, 0.03489949670250102)), CUT_EXTRUDE16_DRAFT)


with BuildPart() as part_17:
    add(part_16.part)

    # Cut-Extrude16: cut by cut_extrude16_tool
    add(cut_extrude16_tool.part, mode=Mode.SUBTRACT)


with BuildPart() as cut_extrude17_tool:
    # Sketch34 → Cut-Extrude17 (with draft: the straight prism first)
    with BuildSketch(Plane(origin=(0, 20.436148168, 0.713646019), x_dir=(1, 0, 0), z_dir=(0, 0.9993908270190958, 0.03489949670250101))):
        with Locations((-140.403549595, 1646.088949876)):
            Circle(SKETCH34_R)
    extrude(amount=-CUT_EXTRUDE17_DEPTH)
    # Cut-Extrude17: the draft: its side faces are tilted about the plane it starts from
    cut_extrude17_sides = [cut_extrude17_tool.faces().sort_by_distance(p)[0] for p in [
        (-142.403549595, 76.88443322, -1644.40745044),
    ]]
    draft(cut_extrude17_sides, Plane(origin=(0, 20.436148168, 0.713646019), x_dir=(1, 0, 0), z_dir=(0, 0.9993908270190958, 0.03489949670250101)), CUT_EXTRUDE17_DRAFT)


with BuildPart() as part_18:
    add(part_17.part)

    # Cut-Extrude17: cut by cut_extrude17_tool
    add(cut_extrude17_tool.part, mode=Mode.SUBTRACT)


with BuildPart() as cut_extrude17_profile_2_tool:
    # Sketch34 → Cut-Extrude17 profile 2 (with draft: the straight prism first)
    with BuildSketch(Plane(origin=(0, 20.436148168, 0.713646019), x_dir=(1, 0, 0), z_dir=(0, 0.9993908270190958, 0.03489949670250101))):
        with Locations((-52.14958807, 1646.088949876)):
            Circle(SKETCH34_R)
    extrude(amount=-CUT_EXTRUDE17_PROFILE_2_DEPTH)
    # Cut-Extrude17 profile 2: the draft: its side faces are tilted about the plane it starts from
    cut_extrude17_profile_2_sides = [cut_extrude17_profile_2_tool.faces().sort_by_distance(p)[0] for p in [
        (-54.14958807, 76.88443322, -1644.40745044),
    ]]
    draft(cut_extrude17_profile_2_sides, Plane(origin=(0, 20.436148168, 0.713646019), x_dir=(1, 0, 0), z_dir=(0, 0.9993908270190958, 0.03489949670250101)), CUT_EXTRUDE17_PROFILE_2_DRAFT)


with BuildPart() as part_19:
    add(part_18.part)

    # Cut-Extrude17 profile 2: cut by cut_extrude17_profile_2_tool
    add(cut_extrude17_profile_2_tool.part, mode=Mode.SUBTRACT)


solid = part_19.part
